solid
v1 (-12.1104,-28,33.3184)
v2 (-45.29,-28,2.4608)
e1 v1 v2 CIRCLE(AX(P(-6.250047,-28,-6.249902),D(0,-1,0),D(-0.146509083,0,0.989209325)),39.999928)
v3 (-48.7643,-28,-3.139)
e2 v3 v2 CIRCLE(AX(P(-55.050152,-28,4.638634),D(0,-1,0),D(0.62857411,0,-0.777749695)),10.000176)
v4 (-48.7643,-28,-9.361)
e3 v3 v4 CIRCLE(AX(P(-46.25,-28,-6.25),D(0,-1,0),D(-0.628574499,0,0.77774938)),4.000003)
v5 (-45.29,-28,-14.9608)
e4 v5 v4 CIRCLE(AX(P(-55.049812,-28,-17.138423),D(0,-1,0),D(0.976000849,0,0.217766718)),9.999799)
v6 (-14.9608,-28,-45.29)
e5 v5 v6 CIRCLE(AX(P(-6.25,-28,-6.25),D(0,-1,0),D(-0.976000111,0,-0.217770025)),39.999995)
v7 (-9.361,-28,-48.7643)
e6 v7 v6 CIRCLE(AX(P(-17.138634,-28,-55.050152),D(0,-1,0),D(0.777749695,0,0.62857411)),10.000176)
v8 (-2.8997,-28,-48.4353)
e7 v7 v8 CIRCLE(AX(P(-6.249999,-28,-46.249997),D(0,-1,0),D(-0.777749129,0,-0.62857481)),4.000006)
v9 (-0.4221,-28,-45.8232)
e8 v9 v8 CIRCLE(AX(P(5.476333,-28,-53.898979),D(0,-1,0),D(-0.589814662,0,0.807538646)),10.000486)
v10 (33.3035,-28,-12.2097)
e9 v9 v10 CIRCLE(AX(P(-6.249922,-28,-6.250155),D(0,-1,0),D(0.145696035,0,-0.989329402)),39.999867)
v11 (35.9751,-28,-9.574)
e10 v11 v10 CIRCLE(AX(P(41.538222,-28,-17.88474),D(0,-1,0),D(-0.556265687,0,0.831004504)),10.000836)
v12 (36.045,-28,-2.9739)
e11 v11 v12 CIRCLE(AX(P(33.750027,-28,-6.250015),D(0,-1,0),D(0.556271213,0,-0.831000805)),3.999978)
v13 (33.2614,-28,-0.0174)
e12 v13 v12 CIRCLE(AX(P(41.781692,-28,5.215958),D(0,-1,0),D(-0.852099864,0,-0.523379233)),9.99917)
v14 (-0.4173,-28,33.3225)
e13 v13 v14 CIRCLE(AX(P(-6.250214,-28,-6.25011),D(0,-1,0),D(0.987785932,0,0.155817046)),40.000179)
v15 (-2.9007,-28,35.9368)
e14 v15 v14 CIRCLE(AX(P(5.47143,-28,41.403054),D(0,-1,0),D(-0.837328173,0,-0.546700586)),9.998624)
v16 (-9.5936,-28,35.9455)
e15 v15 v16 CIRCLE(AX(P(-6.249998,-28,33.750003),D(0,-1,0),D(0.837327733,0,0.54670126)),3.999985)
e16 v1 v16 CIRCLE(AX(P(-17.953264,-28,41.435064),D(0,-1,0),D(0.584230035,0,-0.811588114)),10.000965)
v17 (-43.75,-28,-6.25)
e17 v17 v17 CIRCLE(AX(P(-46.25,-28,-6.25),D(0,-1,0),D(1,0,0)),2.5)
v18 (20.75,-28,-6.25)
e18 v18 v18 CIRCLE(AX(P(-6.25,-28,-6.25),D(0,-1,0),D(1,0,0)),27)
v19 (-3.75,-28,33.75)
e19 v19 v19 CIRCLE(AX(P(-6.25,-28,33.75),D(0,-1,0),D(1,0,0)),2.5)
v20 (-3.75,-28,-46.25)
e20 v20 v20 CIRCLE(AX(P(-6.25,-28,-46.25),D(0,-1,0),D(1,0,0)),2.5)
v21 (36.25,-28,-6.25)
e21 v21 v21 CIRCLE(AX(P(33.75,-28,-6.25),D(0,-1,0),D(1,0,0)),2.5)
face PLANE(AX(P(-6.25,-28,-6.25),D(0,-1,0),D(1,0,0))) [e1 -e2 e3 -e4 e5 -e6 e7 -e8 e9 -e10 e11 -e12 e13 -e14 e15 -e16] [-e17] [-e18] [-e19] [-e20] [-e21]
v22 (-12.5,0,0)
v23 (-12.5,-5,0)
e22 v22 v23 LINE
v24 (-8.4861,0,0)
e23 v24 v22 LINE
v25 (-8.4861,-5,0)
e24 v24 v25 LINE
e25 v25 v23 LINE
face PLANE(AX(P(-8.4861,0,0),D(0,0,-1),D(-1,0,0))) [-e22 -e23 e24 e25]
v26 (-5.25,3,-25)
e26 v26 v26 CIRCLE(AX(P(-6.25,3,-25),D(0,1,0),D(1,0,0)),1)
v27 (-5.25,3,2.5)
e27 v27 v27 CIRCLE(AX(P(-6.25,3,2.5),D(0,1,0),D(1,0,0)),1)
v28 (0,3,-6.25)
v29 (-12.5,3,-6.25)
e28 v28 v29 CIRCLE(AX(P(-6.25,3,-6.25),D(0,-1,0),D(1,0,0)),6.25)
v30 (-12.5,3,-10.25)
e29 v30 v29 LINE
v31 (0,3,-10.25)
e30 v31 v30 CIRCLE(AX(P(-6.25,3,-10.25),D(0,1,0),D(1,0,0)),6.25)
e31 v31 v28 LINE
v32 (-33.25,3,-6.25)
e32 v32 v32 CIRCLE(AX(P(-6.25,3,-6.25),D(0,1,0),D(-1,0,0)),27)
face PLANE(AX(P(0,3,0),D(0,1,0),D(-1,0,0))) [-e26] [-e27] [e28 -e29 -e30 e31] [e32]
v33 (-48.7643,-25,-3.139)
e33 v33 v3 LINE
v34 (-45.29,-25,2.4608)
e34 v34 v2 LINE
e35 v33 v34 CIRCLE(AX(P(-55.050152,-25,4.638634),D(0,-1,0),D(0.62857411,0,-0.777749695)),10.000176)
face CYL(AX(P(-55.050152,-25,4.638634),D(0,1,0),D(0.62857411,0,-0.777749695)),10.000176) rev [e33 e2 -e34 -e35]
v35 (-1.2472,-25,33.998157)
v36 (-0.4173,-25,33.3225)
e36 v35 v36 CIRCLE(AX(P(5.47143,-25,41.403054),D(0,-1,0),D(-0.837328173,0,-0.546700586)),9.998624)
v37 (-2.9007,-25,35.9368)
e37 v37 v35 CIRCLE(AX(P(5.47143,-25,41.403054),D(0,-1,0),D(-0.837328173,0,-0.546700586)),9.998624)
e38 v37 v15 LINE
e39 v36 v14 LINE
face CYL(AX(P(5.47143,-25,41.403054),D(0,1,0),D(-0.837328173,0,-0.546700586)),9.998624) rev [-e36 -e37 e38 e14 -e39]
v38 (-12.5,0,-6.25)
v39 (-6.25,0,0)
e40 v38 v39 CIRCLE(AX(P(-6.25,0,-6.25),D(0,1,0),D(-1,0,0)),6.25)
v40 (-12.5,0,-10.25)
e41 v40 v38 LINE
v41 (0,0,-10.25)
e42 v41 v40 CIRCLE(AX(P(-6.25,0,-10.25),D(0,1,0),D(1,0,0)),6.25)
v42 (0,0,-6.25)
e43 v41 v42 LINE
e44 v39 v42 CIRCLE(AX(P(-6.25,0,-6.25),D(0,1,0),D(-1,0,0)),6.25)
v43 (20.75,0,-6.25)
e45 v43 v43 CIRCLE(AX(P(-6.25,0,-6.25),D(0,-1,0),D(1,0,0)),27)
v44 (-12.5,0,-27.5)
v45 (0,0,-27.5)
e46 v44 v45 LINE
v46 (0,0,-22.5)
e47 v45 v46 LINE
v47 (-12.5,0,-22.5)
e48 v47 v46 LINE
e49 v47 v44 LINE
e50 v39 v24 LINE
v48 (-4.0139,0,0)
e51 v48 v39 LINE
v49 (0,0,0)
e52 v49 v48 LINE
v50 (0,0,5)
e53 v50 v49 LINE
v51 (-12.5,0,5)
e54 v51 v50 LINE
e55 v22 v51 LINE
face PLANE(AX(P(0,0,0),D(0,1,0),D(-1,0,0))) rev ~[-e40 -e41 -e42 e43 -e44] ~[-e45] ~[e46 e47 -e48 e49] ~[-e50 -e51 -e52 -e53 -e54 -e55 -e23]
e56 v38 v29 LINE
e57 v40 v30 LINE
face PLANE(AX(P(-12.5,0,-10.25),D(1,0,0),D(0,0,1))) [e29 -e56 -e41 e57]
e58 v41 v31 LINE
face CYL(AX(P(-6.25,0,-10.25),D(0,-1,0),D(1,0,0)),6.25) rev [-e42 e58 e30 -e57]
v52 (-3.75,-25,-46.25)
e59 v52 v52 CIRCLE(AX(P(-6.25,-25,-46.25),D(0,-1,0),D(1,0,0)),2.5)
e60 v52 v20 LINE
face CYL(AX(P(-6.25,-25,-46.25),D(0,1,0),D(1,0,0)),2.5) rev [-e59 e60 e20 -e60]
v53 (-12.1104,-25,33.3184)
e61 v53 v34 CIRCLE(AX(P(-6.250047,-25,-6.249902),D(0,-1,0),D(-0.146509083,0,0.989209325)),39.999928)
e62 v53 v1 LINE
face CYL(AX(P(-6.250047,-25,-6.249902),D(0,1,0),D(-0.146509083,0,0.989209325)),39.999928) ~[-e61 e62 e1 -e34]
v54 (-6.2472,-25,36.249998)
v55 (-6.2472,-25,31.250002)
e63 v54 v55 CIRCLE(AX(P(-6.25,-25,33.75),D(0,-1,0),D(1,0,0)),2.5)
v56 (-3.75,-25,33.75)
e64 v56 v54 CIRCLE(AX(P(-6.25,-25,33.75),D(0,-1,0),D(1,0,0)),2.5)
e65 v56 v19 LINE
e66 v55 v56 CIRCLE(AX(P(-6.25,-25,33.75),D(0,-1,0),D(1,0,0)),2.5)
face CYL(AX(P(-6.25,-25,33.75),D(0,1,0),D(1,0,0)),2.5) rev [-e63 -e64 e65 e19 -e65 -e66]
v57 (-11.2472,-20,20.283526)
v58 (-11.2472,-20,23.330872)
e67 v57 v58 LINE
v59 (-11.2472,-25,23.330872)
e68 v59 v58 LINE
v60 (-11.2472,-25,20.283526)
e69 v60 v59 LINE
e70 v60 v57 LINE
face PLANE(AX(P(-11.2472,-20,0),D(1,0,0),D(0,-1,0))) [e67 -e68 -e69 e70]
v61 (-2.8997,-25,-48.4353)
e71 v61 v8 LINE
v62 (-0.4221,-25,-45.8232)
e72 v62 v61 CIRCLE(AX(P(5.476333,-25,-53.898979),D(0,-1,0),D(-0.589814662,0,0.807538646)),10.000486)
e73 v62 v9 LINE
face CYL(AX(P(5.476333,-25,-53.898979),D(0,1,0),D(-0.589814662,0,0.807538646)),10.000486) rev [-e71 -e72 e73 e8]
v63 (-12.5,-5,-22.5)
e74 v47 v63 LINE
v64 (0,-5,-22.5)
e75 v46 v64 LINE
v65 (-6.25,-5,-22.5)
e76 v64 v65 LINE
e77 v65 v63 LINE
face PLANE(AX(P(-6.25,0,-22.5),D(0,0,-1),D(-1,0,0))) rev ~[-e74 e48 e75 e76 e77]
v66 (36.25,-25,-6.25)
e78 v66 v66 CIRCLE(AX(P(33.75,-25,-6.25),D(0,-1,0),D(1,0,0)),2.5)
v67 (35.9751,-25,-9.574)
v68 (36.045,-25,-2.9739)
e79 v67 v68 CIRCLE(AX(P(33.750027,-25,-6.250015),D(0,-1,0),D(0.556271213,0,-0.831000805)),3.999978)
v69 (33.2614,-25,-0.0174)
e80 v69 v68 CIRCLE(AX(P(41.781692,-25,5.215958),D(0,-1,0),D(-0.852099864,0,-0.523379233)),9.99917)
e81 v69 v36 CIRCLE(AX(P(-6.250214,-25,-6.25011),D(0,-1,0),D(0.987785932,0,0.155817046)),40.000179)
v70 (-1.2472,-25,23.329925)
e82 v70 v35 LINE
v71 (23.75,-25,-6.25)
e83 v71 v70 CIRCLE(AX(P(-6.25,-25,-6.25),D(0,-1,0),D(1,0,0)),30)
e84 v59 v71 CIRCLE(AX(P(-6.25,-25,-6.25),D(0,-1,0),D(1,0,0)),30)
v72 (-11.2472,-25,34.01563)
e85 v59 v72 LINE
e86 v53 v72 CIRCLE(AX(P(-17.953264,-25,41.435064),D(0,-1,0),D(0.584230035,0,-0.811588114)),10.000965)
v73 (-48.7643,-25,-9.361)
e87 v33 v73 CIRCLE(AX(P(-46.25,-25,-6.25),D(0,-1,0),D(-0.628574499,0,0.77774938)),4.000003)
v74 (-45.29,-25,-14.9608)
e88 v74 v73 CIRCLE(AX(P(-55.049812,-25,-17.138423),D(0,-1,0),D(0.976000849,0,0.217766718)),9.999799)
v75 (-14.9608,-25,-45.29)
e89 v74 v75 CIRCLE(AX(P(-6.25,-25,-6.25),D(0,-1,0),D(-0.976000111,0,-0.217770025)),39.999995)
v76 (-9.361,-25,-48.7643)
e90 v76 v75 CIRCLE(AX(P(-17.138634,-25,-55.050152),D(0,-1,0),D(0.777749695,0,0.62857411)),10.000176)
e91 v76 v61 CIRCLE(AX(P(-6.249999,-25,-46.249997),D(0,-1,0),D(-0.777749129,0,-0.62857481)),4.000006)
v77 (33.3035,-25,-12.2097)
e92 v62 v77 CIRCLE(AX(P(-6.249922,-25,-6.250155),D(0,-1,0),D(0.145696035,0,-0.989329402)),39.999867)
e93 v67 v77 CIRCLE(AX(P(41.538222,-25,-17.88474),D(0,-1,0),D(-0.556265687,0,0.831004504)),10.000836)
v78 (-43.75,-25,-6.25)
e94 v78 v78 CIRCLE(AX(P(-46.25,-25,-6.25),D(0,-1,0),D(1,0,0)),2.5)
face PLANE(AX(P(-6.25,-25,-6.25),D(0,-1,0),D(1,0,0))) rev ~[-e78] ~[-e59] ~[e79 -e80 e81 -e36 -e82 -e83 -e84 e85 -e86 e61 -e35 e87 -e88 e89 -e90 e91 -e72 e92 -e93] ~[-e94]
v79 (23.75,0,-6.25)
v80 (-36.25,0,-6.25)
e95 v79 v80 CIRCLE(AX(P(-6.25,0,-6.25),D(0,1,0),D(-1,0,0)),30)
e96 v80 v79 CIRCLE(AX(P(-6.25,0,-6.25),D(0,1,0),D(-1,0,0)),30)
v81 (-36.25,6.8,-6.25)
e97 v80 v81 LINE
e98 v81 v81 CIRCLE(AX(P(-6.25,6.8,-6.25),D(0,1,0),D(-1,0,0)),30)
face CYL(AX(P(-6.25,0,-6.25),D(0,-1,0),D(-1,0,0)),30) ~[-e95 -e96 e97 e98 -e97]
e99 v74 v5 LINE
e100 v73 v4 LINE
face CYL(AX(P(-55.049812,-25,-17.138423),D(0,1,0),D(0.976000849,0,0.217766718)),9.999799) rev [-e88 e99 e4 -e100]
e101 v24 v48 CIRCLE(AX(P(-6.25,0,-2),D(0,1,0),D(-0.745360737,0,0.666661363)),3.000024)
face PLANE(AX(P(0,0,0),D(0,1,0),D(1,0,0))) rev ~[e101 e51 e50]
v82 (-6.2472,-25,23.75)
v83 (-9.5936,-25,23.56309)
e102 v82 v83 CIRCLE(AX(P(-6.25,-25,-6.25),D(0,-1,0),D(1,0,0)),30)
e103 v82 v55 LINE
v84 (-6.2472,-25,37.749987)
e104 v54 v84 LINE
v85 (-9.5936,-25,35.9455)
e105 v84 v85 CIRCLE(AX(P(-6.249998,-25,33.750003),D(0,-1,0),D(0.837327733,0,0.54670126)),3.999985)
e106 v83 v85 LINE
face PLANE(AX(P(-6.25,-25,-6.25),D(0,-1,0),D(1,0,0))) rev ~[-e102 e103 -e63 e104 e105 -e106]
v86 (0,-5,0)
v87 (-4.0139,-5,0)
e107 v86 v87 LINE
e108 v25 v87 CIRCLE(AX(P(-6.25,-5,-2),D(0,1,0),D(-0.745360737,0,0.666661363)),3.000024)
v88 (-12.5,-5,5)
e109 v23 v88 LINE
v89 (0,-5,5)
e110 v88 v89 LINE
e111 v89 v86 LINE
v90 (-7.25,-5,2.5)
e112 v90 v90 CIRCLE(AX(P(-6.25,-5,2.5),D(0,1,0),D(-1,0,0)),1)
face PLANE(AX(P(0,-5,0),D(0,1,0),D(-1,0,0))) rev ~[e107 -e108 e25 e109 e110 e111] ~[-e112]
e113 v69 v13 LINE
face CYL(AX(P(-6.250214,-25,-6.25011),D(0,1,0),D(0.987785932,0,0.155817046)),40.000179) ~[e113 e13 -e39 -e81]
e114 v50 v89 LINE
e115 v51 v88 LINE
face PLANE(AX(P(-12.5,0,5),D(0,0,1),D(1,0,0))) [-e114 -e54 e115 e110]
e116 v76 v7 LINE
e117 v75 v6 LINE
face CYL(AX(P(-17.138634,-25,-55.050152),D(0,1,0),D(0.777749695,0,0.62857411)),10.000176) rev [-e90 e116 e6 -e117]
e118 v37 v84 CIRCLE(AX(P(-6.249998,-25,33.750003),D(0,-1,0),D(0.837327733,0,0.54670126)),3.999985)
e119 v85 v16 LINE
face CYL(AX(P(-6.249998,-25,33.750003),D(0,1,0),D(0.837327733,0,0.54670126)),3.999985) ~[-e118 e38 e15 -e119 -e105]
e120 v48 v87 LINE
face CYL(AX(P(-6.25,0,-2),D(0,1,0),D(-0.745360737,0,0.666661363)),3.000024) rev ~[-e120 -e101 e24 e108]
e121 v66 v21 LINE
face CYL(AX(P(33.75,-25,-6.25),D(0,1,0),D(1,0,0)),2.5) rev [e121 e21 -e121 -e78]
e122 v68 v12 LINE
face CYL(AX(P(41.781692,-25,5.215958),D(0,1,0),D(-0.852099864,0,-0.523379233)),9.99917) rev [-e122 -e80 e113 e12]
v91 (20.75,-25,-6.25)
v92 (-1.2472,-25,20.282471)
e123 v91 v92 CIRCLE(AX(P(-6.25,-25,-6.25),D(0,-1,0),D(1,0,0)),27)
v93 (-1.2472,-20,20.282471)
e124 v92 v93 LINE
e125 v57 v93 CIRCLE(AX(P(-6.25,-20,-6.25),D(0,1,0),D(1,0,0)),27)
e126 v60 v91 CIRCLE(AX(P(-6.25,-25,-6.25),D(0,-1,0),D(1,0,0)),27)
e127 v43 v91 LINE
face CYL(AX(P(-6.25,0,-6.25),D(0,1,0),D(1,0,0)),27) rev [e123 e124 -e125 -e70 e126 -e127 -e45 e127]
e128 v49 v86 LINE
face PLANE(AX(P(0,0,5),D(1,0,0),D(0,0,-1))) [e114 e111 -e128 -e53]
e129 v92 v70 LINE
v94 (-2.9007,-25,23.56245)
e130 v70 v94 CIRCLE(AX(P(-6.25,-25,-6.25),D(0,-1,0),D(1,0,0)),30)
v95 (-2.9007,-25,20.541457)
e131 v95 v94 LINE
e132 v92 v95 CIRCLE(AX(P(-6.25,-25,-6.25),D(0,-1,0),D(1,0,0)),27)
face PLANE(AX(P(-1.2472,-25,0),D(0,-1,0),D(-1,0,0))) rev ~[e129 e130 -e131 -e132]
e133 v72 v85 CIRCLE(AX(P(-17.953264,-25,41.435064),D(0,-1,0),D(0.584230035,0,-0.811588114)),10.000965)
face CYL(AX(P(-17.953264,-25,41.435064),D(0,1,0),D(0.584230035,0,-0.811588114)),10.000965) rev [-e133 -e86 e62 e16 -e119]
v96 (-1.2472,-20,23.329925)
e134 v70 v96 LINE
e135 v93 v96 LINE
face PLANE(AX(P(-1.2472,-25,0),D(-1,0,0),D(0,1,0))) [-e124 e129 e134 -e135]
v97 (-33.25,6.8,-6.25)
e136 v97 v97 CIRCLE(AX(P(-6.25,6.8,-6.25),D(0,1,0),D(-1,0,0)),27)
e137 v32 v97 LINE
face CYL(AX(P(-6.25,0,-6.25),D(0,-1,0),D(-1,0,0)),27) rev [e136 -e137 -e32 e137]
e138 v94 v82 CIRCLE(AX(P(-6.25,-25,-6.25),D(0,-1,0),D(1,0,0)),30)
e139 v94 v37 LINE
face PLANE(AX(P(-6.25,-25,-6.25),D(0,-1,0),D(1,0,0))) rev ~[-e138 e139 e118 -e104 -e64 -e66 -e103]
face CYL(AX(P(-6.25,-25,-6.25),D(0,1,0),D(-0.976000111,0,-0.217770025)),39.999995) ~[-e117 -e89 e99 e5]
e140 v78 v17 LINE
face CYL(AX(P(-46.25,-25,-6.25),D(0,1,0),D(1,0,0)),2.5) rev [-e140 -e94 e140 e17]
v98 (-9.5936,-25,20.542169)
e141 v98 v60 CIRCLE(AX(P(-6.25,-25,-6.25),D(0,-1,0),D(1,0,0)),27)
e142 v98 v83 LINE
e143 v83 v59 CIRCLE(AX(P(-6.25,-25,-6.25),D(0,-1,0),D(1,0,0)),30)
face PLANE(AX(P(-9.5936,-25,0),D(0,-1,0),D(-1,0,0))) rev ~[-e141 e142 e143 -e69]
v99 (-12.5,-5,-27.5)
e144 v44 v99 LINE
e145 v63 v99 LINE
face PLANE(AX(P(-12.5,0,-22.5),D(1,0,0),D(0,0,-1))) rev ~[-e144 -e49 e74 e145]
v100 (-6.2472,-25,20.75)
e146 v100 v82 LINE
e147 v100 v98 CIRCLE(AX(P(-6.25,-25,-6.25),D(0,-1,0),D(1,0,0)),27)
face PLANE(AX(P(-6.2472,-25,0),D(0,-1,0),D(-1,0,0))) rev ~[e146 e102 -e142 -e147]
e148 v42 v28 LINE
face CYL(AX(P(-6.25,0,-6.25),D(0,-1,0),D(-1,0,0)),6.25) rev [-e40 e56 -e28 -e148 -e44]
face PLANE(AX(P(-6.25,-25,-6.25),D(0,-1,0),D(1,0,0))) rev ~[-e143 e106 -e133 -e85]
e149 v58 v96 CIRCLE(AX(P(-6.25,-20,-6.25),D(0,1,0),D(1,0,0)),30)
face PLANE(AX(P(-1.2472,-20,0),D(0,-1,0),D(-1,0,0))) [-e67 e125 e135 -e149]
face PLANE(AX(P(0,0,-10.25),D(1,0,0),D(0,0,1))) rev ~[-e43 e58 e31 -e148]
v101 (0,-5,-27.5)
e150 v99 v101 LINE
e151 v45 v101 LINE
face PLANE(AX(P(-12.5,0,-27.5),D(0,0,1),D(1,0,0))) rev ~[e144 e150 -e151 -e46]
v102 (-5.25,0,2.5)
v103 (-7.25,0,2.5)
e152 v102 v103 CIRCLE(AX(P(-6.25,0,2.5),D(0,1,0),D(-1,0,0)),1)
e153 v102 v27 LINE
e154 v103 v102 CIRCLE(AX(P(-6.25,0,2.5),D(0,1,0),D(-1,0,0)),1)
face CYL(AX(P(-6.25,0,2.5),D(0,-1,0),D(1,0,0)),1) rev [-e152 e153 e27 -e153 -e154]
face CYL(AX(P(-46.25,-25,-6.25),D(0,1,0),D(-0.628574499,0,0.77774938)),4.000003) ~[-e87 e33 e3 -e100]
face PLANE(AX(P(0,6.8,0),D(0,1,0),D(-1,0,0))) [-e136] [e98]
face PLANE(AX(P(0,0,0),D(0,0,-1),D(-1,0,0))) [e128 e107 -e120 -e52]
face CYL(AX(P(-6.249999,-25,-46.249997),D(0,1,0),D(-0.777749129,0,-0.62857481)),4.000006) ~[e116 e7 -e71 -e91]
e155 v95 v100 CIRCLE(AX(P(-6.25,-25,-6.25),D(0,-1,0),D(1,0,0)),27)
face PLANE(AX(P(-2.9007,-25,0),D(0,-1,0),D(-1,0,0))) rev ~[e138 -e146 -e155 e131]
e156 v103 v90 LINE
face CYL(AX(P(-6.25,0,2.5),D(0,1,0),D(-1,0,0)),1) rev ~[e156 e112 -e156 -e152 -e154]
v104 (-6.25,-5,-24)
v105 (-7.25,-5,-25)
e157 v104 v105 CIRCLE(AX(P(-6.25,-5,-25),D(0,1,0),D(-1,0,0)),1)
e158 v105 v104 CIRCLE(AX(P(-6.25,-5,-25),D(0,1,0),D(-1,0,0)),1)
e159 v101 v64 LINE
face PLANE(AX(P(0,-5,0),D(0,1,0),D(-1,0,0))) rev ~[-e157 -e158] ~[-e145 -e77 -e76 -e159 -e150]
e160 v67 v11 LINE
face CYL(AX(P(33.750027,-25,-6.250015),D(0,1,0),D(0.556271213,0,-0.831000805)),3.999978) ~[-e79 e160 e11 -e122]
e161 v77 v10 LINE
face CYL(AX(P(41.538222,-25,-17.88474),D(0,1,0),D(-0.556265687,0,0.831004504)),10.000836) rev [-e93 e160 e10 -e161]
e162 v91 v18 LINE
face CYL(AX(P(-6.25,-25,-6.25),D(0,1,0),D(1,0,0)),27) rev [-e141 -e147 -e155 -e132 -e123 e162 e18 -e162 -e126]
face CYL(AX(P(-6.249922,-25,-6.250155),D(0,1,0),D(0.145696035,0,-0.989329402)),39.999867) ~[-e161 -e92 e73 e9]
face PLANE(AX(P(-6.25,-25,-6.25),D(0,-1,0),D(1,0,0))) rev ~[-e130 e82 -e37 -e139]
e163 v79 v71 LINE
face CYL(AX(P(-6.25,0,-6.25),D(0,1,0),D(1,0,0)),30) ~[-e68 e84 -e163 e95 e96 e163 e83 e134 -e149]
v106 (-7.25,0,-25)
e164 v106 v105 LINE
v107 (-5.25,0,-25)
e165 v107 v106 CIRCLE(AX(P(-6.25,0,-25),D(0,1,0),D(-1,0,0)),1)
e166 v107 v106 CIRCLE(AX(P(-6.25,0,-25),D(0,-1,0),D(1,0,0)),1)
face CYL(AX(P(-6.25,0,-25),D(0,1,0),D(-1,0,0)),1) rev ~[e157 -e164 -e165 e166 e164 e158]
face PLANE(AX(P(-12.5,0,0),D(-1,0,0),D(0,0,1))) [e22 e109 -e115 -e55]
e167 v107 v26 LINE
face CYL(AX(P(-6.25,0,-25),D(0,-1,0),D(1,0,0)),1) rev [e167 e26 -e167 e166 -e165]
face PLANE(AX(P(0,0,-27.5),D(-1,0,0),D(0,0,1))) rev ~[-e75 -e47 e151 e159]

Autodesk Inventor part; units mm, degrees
ref_plane "YZ Plane" through (0, 0, 0) normal (1, 0, 0) x (0, 1, 0)
ref_plane "XZ Plane" through (0, 0, 0) normal (0, 1, 0) x (-1, 0, 0)
ref_plane "XY Plane" through (0, 0, 0) normal (0, 0, 1) x (1, 0, 0)
sketch "Boceto1" plane through (0, 0, 0) normal (0, 1, 0) x (-1, 0, 0)
  line L0 (0, 0) -> (12.5, 0)
  line L1 (12.5, 0) -> (12.5, 5)
  line L2 (12.5, 5) -> (0, 5)
  line L3 (0, 5) -> (0, 0)
  circle A0 centre (6.25, 2.5) radius 1
  arc A1 (8.4861, 0) -> (4.0139, 0) centre (6.25, -2) ccw
  circle A2 centre (6.25, -25) radius 1
  line L4 (6.25, -25) -> (6.25, -22.5)
  line L5 (0, -22.5) -> (12.5, -22.5)
  line L6 (12.5, -22.5) -> (12.5, -27.5)
  line L7 (12.5, -27.5) -> (0, -27.5)
  line L8 (0, -27.5) -> (0, -22.5)
  line L9 (6.25, 0) -> (6.25, -6.25)
  arc A3 (12.5, -6.25) -> (0, -6.25) centre (6.25, -6.25) ccw
  arc A4 (0, -10.25) -> (12.5, -10.25) centre (6.25, -10.25) ccw
  line L10 (12.5, -10.25) -> (12.5, -6.25)
  line L11 (0, -10.25) -> (0, -6.25)
  circle A5 centre (6.25, -6.25) radius 27
  circle A6 centre (6.25, -6.25) radius 30
  dimension "d0" = 12.5
  dimension "d1" = 5
  dimension "d2" = 2
  dimension "d4" = 6
  dimension "d6" = 2
  dimension "d7" = 2.5
  dimension "d8" = 12.5
  dimension "d9" = 5
  dimension "d10" = 6.25
  dimension "d11" = 12.5
  dimension "d13" = 12.5
  dimension "d14" = 54
  dimension "d15" = 60
extrude "Extrusión1" add sketch "Boceto1" along normal blind 3 contours A5
extrude "Extrusión2" add sketch "Boceto1" along normal blind 6.8 contours A6
extrude "Extrusión3" add sketch "Boceto1" against normal blind 5 contours L3 L2 L1 L0 A1 | L5 L6 L7 L8
sketch "Boceto2" plane through (0, 0, 0) normal (0, 1, 0) x (1, 0, 0)
  line L0 (-4.0139, 0) -> (0, 0) projected
  arc A0 (-8.4861, 0) -> (-4.0139, 0) centre (-6.25, 2) ccw projected
  line L1 (-12.5, 0) -> (-8.4861, 0) projected
  line L2 (-12.5, -5) -> (-12.5, 0) projected
  line L3 (0, -5) -> (-12.5, -5) projected
  line L4 (0, 0) -> (0, -5) projected
  circle A1 centre (-6.25, -2.5) radius 1 projected
  line L5 (0, 27.5) -> (0, 22.5) projected
  line L6 (-12.5, 27.5) -> (0, 27.5) projected
  line L7 (-12.5, 22.5) -> (-12.5, 27.5) projected
  line L8 (0, 22.5) -> (-12.5, 22.5) projected
  circle A2 centre (-6.25, 25) radius 1 projected
  line L9 (-12.5, -5) -> (-12.5, 0) projected
  line L10 (-6.25, 0) -> (0, 0) projected
  line L11 (-12.5, -5) -> (0, -5)
  line L12 (0, -5) -> (0, 0)
  line L13 (-12.5, 0) -> (-12.5, -5)
  line L14 (-12.5, 27.5) -> (0, 27.5) projected
  line L15 (0, 22.5) -> (-12.5, 22.5) projected
  line L16 (0, 27.5) -> (-12.5, 27.5)
  line L17 (-12.5, 27.5) -> (-12.5, 22.5)
  line L18 (-12.5, 22.5) -> (0, 22.5)
  line L19 (0, 22.5) -> (0, 27.5)
  circle A3 centre (-6.25, -2.5) radius 1
  circle A4 centre (-6.25, 25) radius 1
  arc A5 (-8.4861, 0) -> (-4.0139, 0) centre (-6.25, 2) ccw
  line L20 (0, 0) -> (-4.0139, 0)
  line L21 (-8.4861, 0) -> (-12.5, 0)
  line L22 (-8.4861, 0) -> (-4.0139, 0)
  point P0 (-8.4861, 0)
  dimension "d22" = 2
  dimension "d23" = 2
  dimension "d24" = 6
extrude "Extrusión4" add sketch "Boceto2" along normal blind 3
sketch "Boceto3" plane through (-6.25, 0, -6.25) normal (0, -1, 0) x (1, 0, 0)
  circle A0 centre (0, 0) radius 30
  circle A1 centre (0, 0) radius 27
  point P0 (6.25, 6.25)
  dimension "d27" = 60
  dimension "d28" = 54
extrude "Extrusión5" add sketch "Boceto3" along normal blind 25
sketch "Boceto4" plane through (-6.25, -25, -6.25) normal (0, -1, 0) x (1, 0, 0)
  circle A0 centre (0, 0) radius 30
  circle A1 centre (0, 0) radius 27
  circle A2 centre (0, 40) radius 2.5
  arc A3 (3.3493, 42.1868) -> (-3.3436, 42.1955) centre (0, 40) ccw
  circle A4 centre (40, 0) radius 2.5
  arc A5 (42.2251, -3.324) -> (42.295, 3.2761) centre (40, 0) ccw
  circle A6 centre (0, -40) radius 2.5
  arc A7 (-3.111, -42.5143) -> (3.3503, -42.1853) centre (0, -40) ccw
  circle A8 centre (-40, 0) radius 2.5
  arc A9 (-42.5143, 3.111) -> (-42.5143, -3.111) centre (-40, 0) ccw
  line L0 (-3.995, 39.8) -> (-3.995, 39.8)
  arc A10 (3.3493, 42.1868) -> (5.8327, 39.5725) centre (11.7225, 47.6539) ccw
  arc A11 (-5.8604, 39.5684) -> (-3.3436, 42.1955) centre (-11.7026, 47.6843) ccw
  arc A12 (39.5114, 6.2326) -> (5.8327, 39.5725) centre (0, 0) ccw
  arc A13 (5.8279, -39.5732) -> (39.5535, -5.9597) centre (0, 0) ccw
  arc A14 (-5.8604, 39.5684) -> (-39.04, 8.7108) centre (0, 0) ccw
  arc A15 (-39.04, -8.7108) -> (-8.7108, -39.04) centre (0, 0) ccw
  line L1 (-3.995, -39.8) -> (-6.9108, -38.8236)
  line L2 (8.3455, -38.2373) -> (8.1717, -38.2997)
  arc A16 (42.2251, -3.324) -> (39.5535, -5.9597) centre (47.7877, -11.6341) ccw
  arc A17 (39.5114, 6.2326) -> (42.295, 3.2761) centre (48.0324, 11.4665) ccw
  arc A18 (5.8279, -39.5732) -> (3.3503, -42.1853) centre (11.726, -47.6486) ccw
  arc A19 (-3.111, -42.5143) -> (-8.7108, -39.04) centre (-10.8885, -48.8) ccw
  arc A20 (-42.5143, 3.111) -> (-39.04, 8.7108) centre (-48.8, 10.8885) ccw
  arc A21 (-39.04, -8.7108) -> (-42.5143, -3.111) centre (-48.8, -10.8885) ccw
  point P0 (6.25, 6.25)
  dimension "d32" = 60
  dimension "d33" = 54
  dimension "d34" = 5
  dimension "d35" = 8
  dimension "d36" = 5
  dimension "d37" = 8
  dimension "d38" = 5
  dimension "d39" = 8
  dimension "d40" = 5
  dimension "d41" = 8
  dimension "d42" = 10
  dimension "d43" = 10
extrude "Extrusión6" add sketch "Boceto4" along normal blind 3 contours A0 | A10 A12 A17 A5 A16 A13 A18 A7 A19 A15 A21 A9 A20 A14 A11 A3
sketch "Boceto5" plane through (0, 0, 0) normal (0, 0, 1) x (1, 0, 0)
  line L0 (-2.9007, -25) -> (-9.5936, -25) projected
  line L1 (-9.5936, -25) -> (-9.5936, -28) projected
  line L2 (-2.9007, -28) -> (-9.5936, -28) projected
  line L3 (-2.9007, -25) -> (-2.9007, -28) projected
  line L4 (-9.5936, -25) -> (-12.1104, -25) projected
  line L5 (-12.1104, -25) -> (-12.1104, -28) projected
  line L6 (-9.5936, -28) -> (-12.1104, -28) projected
  line L7 (-9.5936, -25) -> (-9.5936, -28) projected
  line L8 (-0.4173, -25) -> (-2.9007, -25) projected
  line L9 (-2.9007, -25) -> (-2.9007, -28) projected
  line L10 (-0.4173, -28) -> (-2.9007, -28) projected
  line L11 (-0.4173, -25) -> (-0.4173, -28) projected
  line L12 (-6.2472, -25) -> (-1.2472, -25)
  line L13 (-0.4173, -25) -> (-2.9007, -25) projected
  line L14 (-1.2472, -25) -> (-11.2472, -25)
  line L15 (-11.2472, -25) -> (-1.2472, -25)
  line L16 (-1.2472, -25) -> (-1.2472, -20)
  line L17 (-1.2472, -20) -> (-11.2472, -20)
  line L18 (-11.2472, -20) -> (-11.2472, -25)
  point P0 (0, 0)
  dimension "d46" = 5
  dimension "d47" = 10
  dimension "d48" = 10
  dimension "d49" = 5
extrude "Extrusión7" cut sketch "Boceto5" along normal blind 40 contours L0 L4 L18 L17 L16 L8
properties part number "sombreronuevasversionsanti"
